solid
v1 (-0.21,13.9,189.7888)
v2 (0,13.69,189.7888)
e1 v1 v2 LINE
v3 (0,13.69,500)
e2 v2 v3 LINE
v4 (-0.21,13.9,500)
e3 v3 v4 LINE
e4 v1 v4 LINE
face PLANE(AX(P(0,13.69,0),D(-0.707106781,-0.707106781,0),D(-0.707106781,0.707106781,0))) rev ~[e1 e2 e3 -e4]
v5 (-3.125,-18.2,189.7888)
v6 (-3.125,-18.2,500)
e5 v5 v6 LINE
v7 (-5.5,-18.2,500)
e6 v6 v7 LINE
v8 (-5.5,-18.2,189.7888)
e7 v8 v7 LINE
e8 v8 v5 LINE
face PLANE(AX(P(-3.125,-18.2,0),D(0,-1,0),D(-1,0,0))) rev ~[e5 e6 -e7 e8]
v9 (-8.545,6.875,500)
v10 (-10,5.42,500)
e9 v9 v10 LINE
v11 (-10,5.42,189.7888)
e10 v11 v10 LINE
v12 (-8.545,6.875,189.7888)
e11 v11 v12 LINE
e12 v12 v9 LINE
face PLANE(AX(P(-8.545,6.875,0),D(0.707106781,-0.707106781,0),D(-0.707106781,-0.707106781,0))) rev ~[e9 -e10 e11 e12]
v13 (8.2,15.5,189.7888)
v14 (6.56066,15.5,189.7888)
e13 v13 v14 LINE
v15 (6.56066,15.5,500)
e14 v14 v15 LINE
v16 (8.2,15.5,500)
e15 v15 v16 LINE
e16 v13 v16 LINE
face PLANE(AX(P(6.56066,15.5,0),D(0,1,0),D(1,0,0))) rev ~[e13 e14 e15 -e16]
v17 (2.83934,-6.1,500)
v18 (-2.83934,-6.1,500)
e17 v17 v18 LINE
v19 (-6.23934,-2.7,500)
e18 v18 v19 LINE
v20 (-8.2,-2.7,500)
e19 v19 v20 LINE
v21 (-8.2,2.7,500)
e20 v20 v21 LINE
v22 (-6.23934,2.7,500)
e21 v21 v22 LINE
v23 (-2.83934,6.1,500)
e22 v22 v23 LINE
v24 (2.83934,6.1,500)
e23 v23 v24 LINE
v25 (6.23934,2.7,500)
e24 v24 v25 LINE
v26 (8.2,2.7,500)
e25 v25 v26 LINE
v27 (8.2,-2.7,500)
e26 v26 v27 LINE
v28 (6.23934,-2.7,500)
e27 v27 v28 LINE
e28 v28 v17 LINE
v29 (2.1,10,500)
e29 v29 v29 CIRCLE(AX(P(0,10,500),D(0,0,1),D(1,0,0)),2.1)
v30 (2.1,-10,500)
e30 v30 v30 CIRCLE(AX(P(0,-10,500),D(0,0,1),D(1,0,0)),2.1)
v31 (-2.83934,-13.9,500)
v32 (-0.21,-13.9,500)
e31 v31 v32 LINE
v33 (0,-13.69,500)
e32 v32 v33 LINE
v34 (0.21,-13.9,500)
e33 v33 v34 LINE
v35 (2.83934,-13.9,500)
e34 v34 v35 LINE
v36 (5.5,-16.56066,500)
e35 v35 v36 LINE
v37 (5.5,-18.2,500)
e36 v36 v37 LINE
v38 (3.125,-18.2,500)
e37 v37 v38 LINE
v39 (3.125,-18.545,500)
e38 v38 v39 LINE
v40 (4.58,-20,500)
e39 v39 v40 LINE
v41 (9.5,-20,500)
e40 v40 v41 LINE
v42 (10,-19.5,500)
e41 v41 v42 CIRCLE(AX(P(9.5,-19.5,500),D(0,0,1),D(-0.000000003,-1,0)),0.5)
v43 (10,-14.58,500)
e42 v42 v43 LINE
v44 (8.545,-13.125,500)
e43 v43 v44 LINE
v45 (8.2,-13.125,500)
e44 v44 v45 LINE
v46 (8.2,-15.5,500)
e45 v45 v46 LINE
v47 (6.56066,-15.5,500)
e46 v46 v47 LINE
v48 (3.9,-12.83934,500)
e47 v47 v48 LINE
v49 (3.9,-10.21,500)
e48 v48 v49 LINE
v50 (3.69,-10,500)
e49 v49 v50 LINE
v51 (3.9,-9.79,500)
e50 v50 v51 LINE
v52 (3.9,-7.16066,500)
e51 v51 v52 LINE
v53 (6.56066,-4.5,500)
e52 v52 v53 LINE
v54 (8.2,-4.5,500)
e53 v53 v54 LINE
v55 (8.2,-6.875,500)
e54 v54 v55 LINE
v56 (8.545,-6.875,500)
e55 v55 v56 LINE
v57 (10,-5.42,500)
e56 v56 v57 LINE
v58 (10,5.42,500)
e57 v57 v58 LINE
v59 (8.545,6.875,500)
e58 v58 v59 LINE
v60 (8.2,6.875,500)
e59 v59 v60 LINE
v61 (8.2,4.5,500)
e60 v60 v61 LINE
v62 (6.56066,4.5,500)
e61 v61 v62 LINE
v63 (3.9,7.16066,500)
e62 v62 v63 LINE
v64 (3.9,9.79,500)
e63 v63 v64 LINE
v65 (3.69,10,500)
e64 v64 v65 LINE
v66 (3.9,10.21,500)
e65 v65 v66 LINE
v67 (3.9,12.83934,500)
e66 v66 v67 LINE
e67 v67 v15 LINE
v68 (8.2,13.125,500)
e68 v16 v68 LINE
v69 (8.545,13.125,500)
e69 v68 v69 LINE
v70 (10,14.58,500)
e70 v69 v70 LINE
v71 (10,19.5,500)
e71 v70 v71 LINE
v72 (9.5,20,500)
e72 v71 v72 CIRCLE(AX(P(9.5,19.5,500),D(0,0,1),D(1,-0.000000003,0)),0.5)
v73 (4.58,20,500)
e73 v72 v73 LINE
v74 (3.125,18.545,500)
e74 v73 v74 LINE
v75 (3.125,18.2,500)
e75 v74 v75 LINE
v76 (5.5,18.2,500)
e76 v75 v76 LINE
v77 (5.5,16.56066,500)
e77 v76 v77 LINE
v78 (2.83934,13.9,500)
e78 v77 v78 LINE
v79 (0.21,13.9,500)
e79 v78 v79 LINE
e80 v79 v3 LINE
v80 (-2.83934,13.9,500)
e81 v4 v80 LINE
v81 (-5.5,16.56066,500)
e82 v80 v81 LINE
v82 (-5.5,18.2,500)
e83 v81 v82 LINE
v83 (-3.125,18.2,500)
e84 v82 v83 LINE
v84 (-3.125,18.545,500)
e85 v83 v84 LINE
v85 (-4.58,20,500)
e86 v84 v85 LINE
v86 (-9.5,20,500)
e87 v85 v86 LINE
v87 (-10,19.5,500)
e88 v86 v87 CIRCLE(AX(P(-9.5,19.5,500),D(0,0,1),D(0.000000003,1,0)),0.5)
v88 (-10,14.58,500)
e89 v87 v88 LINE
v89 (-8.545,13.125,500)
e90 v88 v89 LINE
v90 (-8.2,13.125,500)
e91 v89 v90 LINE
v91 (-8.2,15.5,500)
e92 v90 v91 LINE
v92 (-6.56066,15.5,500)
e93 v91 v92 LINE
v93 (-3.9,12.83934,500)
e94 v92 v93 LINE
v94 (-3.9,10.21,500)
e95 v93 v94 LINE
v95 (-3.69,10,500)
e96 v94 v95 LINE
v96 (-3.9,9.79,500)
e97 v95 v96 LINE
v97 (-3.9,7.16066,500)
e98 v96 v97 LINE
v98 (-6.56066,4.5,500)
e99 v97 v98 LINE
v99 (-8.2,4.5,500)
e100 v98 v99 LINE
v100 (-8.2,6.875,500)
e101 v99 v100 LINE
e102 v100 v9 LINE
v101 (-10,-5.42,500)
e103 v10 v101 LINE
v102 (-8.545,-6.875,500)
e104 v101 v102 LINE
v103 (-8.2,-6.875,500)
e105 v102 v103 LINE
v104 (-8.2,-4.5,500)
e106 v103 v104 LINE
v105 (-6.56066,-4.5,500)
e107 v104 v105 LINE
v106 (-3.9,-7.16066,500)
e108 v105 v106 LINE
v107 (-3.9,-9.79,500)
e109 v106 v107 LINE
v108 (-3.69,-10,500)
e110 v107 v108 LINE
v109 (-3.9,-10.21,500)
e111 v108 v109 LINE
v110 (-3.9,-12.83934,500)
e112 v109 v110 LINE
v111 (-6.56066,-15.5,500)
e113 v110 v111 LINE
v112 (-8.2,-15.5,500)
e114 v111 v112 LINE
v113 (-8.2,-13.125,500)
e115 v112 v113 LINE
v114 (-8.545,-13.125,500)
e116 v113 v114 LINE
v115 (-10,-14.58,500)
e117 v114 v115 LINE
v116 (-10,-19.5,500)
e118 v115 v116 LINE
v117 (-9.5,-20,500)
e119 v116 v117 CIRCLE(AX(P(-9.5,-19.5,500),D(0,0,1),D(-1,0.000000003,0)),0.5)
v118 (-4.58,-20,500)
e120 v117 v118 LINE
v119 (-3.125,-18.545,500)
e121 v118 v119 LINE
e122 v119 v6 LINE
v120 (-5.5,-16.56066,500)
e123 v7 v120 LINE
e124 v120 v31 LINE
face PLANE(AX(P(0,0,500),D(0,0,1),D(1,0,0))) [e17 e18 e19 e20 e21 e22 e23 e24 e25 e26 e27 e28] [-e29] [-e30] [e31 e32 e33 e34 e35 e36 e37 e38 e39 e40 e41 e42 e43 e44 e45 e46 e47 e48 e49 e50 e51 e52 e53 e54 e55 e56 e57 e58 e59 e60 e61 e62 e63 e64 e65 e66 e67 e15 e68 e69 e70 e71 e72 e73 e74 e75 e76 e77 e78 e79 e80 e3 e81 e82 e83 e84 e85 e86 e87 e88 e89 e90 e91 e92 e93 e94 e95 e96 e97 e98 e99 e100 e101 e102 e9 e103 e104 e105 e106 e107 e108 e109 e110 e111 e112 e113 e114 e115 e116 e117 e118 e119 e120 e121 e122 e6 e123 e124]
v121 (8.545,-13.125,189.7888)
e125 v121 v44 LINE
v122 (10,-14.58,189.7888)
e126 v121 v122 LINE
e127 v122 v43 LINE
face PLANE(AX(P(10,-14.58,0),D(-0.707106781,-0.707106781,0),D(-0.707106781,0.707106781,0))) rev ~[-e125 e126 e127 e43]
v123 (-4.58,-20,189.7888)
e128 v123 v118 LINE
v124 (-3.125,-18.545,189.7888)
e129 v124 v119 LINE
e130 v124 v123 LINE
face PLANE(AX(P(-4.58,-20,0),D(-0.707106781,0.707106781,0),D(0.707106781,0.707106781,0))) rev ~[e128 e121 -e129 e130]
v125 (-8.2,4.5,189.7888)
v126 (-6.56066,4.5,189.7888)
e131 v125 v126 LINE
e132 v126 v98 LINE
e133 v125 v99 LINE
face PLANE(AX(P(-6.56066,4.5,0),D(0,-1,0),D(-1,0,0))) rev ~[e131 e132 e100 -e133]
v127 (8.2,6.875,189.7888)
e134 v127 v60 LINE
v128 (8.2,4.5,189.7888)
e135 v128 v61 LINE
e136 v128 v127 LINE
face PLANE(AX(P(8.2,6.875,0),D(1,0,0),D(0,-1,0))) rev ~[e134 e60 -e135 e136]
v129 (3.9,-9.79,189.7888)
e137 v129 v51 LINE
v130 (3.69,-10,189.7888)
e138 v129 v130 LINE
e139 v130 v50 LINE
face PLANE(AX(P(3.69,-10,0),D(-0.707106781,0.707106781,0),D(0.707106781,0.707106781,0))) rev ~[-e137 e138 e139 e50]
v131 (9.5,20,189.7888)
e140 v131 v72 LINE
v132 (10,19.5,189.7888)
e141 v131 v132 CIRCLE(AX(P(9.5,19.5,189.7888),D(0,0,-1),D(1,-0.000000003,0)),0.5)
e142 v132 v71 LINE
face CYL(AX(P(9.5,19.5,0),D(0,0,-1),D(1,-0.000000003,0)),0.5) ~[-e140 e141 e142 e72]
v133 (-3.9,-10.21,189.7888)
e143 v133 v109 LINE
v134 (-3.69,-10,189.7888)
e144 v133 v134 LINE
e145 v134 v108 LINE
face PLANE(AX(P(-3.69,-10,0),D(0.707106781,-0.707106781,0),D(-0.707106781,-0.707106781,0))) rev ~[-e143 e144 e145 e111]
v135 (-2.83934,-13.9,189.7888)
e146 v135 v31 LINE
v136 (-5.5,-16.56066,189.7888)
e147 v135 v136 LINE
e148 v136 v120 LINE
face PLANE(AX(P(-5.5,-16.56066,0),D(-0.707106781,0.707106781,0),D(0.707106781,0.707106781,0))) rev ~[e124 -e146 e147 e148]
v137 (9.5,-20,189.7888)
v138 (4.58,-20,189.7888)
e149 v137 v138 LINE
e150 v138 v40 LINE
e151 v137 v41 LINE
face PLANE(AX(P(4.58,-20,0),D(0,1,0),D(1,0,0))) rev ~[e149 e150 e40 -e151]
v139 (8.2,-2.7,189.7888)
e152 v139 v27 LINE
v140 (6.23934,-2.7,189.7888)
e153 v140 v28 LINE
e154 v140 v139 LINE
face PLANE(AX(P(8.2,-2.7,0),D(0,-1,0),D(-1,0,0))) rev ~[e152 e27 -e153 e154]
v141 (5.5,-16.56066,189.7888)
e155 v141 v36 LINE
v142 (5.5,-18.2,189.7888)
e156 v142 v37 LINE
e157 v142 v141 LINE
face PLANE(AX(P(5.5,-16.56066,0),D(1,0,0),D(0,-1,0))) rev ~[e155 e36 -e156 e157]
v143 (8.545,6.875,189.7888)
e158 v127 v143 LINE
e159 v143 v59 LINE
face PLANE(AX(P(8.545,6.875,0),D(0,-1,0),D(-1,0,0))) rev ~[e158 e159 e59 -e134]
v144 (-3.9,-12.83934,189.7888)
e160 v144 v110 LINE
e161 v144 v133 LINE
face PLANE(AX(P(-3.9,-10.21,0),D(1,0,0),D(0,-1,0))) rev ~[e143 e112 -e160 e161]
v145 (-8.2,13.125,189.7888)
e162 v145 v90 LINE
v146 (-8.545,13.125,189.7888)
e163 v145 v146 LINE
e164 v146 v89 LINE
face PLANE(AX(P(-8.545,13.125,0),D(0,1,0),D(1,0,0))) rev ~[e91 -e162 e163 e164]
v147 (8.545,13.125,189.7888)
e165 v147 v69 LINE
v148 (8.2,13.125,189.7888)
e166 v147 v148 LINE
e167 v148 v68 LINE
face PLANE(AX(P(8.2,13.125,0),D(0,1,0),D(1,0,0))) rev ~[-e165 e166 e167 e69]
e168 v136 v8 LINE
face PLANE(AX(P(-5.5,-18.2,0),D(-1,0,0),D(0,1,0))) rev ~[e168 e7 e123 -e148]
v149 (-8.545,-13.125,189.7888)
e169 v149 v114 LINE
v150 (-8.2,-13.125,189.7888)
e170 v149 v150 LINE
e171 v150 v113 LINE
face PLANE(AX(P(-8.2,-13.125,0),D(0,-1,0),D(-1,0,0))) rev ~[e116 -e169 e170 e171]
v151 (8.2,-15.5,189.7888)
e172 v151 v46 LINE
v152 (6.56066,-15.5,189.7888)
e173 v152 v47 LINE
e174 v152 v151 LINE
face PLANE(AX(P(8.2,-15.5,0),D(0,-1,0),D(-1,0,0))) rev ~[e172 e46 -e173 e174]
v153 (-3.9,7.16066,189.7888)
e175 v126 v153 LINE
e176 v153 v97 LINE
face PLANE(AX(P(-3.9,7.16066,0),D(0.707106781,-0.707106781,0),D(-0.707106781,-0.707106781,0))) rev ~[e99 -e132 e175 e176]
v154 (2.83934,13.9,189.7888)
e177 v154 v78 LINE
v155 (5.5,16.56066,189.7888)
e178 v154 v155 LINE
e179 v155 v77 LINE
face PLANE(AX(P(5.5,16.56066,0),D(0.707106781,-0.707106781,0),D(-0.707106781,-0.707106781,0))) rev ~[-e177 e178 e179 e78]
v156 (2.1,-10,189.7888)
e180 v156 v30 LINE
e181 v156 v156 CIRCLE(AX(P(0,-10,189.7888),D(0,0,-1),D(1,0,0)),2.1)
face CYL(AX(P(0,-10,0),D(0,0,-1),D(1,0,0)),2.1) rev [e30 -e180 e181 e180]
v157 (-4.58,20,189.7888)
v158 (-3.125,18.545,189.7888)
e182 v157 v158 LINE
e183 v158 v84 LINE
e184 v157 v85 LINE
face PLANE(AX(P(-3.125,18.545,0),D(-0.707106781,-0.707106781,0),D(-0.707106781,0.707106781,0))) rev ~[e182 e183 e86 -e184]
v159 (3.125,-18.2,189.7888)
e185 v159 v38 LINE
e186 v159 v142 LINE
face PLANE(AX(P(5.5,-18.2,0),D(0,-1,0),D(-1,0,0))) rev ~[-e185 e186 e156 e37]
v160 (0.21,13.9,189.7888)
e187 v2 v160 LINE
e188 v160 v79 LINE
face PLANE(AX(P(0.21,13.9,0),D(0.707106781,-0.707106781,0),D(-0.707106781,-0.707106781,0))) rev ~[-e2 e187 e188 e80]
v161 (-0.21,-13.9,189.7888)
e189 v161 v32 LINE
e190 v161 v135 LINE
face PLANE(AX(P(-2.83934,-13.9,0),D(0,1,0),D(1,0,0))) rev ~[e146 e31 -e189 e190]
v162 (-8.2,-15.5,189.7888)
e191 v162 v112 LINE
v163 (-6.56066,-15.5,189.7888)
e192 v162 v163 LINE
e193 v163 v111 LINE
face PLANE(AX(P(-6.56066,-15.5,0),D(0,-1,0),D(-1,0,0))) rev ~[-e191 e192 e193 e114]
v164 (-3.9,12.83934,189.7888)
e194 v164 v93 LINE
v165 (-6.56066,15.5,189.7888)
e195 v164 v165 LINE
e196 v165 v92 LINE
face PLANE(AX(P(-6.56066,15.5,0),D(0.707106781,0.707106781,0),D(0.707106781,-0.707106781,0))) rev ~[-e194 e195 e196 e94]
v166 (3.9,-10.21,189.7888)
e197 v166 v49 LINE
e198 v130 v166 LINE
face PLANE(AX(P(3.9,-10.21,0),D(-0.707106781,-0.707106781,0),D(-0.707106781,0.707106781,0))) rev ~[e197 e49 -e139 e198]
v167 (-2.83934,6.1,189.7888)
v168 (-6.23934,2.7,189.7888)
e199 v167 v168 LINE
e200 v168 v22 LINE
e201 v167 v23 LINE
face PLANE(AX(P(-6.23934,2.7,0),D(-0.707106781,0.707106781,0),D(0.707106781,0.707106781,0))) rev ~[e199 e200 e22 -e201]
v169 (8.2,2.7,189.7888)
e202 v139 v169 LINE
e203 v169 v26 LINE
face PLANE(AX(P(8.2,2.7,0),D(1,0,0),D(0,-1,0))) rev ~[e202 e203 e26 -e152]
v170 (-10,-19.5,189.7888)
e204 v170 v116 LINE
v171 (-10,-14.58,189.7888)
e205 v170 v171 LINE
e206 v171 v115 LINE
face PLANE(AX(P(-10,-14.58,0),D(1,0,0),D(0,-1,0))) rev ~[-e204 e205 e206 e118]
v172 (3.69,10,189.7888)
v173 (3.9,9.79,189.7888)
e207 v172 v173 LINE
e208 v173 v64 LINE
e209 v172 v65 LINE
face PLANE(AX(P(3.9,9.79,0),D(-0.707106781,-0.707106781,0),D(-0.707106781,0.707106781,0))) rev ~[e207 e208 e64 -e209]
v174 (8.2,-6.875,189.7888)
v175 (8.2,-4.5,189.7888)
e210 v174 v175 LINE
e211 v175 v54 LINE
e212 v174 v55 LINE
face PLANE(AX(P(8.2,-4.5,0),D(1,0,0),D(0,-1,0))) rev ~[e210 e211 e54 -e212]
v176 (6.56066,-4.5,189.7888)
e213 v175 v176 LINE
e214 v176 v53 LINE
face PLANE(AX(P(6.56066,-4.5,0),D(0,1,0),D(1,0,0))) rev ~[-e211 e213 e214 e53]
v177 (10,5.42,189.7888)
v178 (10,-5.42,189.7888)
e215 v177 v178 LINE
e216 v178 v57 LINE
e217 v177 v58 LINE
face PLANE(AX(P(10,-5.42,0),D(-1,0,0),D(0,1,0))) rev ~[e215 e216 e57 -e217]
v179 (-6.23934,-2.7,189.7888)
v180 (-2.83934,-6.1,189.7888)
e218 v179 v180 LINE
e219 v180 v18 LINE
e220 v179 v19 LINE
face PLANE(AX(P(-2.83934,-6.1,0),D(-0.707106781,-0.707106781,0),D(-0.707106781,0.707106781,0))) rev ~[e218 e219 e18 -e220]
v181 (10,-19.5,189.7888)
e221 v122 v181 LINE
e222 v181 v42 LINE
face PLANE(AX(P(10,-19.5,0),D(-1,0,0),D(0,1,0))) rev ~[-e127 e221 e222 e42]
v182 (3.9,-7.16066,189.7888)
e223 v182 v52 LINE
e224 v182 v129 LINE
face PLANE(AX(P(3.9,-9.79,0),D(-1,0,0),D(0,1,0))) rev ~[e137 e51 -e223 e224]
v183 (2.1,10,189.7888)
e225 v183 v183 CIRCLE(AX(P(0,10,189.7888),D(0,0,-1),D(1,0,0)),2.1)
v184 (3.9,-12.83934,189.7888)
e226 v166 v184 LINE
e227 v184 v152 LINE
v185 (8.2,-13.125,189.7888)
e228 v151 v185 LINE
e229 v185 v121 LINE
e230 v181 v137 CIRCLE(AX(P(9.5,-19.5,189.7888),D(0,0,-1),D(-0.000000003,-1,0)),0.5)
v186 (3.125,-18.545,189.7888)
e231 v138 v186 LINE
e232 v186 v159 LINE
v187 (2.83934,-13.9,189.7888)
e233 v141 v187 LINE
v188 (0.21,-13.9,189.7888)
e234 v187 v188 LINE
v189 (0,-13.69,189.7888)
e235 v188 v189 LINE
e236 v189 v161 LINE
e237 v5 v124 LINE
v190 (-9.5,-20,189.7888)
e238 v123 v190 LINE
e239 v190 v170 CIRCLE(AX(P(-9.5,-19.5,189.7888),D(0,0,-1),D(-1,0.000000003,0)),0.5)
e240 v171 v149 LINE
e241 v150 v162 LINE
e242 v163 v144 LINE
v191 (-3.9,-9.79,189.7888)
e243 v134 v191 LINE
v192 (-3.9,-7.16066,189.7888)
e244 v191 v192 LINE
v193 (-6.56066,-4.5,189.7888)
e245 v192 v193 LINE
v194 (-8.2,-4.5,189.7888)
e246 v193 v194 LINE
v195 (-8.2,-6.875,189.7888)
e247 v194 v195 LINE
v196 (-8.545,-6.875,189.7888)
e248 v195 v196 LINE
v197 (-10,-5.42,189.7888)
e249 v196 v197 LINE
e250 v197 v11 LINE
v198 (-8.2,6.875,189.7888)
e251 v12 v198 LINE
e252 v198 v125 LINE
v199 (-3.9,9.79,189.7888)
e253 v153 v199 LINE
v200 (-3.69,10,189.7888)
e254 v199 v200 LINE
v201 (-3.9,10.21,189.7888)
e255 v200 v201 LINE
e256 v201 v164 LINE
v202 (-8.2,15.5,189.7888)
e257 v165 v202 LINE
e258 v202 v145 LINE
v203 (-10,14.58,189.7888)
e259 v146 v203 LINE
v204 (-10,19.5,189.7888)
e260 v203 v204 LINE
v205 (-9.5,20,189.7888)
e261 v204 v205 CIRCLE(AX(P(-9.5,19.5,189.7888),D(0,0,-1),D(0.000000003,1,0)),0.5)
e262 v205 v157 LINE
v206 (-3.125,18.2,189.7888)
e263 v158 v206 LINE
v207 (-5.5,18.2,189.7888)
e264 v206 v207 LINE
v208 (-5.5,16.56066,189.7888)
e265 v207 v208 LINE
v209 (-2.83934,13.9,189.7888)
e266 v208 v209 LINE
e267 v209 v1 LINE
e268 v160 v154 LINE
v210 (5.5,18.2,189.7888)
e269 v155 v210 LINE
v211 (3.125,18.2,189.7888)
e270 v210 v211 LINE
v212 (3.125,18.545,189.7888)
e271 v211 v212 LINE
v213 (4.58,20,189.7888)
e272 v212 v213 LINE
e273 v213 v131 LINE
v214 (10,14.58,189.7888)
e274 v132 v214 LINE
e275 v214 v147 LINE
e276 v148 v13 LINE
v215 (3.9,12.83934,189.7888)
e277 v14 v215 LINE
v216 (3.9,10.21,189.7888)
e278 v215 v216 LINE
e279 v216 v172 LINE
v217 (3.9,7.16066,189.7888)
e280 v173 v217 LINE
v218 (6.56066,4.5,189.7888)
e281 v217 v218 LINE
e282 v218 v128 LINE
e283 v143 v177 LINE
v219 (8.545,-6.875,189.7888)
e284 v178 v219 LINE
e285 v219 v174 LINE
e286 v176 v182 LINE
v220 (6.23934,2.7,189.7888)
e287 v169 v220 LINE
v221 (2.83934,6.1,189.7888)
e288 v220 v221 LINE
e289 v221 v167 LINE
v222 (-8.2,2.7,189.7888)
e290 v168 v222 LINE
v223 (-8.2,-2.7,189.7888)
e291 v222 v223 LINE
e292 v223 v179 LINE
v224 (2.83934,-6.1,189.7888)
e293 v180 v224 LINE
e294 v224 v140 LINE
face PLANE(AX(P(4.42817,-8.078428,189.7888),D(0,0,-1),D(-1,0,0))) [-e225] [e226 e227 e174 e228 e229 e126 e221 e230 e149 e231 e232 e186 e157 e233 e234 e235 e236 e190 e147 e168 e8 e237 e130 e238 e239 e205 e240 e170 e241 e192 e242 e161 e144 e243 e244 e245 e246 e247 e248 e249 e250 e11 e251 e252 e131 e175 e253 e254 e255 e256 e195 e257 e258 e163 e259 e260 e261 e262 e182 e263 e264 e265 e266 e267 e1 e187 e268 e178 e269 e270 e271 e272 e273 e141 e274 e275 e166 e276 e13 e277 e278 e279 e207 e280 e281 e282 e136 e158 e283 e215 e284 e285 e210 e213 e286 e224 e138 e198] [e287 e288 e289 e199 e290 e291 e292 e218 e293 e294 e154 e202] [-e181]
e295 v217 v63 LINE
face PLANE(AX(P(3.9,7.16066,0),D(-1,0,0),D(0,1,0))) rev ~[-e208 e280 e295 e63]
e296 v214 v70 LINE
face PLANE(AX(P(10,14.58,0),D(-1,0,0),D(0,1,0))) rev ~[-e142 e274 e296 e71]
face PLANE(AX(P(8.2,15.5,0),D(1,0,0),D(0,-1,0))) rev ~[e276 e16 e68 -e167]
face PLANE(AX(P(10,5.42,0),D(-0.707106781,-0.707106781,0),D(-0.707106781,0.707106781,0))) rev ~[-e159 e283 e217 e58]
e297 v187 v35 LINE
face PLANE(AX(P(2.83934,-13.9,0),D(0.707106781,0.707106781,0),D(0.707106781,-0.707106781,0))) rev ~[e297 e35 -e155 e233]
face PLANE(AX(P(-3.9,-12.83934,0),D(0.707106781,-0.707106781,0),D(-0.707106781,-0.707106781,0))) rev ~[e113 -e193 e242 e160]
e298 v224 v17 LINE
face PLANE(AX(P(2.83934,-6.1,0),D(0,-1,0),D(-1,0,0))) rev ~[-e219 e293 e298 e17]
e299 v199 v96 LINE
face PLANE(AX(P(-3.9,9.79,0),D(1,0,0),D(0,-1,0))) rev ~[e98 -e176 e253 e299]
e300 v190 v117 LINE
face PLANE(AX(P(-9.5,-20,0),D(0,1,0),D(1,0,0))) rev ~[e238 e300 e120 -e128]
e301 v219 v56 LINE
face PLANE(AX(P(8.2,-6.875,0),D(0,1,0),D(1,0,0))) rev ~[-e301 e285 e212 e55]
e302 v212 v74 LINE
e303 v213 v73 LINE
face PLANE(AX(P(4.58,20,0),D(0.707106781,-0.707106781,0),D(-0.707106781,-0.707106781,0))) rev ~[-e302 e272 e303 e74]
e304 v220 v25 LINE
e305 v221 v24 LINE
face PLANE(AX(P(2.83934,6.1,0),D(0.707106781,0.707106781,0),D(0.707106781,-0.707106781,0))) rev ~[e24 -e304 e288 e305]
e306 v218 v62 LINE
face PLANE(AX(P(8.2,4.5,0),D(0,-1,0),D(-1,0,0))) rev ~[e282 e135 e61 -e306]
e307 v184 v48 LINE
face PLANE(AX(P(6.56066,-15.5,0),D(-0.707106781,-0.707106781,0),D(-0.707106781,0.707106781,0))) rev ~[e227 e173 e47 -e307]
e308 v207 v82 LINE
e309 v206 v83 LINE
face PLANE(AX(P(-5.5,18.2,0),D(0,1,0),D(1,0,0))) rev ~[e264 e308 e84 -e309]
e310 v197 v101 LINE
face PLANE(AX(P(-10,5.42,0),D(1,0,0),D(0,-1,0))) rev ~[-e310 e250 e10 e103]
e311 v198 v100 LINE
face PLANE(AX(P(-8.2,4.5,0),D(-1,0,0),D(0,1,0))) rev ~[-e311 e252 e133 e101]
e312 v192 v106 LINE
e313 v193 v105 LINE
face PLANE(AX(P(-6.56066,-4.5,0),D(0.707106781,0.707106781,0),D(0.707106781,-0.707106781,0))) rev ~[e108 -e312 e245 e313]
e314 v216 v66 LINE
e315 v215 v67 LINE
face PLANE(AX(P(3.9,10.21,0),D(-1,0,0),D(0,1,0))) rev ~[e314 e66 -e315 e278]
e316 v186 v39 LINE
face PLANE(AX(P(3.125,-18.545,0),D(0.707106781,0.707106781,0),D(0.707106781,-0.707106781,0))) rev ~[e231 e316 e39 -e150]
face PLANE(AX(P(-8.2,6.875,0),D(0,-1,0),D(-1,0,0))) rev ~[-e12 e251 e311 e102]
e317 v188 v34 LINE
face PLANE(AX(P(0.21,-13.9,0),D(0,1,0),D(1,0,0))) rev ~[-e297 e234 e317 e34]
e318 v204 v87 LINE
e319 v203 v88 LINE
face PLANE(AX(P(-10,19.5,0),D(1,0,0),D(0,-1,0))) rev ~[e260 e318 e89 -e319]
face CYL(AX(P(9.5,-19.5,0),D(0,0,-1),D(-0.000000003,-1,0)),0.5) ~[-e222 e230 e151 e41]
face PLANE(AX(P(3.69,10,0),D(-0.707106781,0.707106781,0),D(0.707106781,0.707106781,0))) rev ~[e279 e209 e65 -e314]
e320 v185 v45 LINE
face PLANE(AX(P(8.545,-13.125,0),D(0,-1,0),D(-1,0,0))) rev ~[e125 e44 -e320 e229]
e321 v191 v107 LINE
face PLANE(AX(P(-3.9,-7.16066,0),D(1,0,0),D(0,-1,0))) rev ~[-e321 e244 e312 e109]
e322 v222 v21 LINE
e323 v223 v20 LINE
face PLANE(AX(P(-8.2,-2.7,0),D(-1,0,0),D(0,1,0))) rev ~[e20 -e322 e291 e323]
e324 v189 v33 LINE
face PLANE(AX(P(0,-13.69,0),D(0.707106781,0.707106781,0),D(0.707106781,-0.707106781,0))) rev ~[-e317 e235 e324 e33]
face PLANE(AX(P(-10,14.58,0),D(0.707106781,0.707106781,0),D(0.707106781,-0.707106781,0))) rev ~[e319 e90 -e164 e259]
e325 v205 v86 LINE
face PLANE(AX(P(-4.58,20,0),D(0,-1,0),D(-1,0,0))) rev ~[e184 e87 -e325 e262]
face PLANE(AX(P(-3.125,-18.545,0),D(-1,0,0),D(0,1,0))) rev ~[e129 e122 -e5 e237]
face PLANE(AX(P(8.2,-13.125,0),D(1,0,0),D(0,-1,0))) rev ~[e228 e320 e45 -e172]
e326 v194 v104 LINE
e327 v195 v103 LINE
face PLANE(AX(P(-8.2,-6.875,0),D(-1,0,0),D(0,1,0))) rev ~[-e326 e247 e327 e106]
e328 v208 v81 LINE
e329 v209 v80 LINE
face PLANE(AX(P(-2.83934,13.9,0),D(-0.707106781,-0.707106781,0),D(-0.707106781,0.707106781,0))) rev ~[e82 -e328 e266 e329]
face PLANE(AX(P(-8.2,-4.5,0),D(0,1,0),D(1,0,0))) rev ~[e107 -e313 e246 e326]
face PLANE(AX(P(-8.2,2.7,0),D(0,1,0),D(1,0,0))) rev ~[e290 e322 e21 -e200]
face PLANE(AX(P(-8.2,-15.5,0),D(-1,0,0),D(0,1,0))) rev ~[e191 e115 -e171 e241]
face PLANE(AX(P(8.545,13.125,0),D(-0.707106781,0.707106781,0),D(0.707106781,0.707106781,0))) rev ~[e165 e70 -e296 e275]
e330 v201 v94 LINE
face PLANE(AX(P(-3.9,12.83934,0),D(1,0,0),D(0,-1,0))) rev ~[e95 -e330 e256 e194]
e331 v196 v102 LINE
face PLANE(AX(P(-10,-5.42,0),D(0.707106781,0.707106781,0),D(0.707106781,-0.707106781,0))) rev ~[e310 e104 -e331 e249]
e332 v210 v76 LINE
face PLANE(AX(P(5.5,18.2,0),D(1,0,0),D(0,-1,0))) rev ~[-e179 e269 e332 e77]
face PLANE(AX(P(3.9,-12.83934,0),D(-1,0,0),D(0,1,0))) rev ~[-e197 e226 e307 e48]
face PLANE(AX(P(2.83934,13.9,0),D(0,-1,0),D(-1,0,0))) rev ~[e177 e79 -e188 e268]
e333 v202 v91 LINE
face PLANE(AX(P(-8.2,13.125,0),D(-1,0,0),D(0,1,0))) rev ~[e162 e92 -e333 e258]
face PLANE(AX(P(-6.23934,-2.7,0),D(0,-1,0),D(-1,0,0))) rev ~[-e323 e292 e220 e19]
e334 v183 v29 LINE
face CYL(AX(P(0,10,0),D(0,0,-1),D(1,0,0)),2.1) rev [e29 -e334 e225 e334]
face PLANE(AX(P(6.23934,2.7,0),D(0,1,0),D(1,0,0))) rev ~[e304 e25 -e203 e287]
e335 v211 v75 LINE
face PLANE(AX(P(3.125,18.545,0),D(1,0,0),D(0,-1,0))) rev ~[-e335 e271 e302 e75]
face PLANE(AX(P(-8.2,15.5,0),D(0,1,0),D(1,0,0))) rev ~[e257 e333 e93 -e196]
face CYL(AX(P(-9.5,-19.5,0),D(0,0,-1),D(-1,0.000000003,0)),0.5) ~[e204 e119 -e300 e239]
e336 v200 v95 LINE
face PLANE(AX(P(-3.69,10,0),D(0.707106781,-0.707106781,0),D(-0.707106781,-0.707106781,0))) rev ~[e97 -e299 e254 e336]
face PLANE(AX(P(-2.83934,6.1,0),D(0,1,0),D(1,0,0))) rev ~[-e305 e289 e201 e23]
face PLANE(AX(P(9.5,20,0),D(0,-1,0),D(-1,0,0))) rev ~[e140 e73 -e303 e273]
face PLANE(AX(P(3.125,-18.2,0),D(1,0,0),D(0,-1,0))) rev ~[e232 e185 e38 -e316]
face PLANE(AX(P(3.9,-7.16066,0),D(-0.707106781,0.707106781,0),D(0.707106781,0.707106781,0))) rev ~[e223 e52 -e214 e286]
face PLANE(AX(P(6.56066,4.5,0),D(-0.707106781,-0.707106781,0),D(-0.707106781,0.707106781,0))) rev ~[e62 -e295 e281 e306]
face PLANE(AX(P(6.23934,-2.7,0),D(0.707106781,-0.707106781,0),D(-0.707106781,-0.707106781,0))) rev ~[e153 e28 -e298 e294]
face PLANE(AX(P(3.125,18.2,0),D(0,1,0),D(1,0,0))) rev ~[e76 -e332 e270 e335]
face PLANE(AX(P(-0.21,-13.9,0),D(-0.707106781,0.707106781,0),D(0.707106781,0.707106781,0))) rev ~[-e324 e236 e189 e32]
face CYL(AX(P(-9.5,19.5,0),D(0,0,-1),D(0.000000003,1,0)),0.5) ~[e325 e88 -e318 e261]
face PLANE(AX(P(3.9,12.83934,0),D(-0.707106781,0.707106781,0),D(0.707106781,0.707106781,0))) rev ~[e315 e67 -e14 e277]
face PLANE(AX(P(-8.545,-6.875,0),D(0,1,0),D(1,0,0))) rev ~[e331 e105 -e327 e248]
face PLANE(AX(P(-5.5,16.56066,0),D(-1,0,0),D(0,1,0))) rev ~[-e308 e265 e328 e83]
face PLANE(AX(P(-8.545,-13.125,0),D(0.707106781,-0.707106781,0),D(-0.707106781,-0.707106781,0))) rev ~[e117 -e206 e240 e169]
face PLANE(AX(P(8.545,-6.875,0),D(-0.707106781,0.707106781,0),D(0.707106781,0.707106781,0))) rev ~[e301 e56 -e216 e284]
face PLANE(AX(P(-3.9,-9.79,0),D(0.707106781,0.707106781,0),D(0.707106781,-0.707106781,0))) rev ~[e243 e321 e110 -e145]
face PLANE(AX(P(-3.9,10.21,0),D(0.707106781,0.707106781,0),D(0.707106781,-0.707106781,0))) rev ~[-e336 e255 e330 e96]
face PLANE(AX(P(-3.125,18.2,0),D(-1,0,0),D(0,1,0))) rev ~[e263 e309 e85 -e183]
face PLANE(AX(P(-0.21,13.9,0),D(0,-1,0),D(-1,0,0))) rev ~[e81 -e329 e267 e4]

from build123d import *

# Parameters (mm, degrees)
SKETCH1_R           = 2.1
BOSS_EXTRUDE1_DEPTH = 500
SKETCH2_W           = 72.199541976
SKETCH2_H           = 58.054703084
CUT_EXTRUDE2_DEPTH  = 189.7888


with BuildPart() as part:
    # Sketch1 → Boss-Extrude1 (new body)
    with BuildSketch(Plane.XY):
        with BuildLine():
            Line((4.58, -20), (9.5, -20))
            ThreePointArc((9.5, -20), (9.853553391, -19.853553391), (10, -19.5))
            Line((10, -19.5), (10, -14.58))
            Line((10, -14.58), (8.545, -13.125))
            Line((8.545, -13.125), (8.2, -13.125))
            Line((8.2, -13.125), (8.2, -15.5))
            Line((8.2, -15.5), (6.560660172, -15.5))
            Line((6.560660172, -15.5), (3.9, -12.839339828))
            Line((3.9, -12.839339828), (3.9, -10.21))
            Line((3.9, -10.21), (3.69, -10))
            Line((3.69, -10), (3.9, -9.79))
            Line((3.9, -9.79), (3.9, -7.160660172))
            Line((3.9, -7.160660172), (6.560660172, -4.5))
            Line((6.560660172, -4.5), (8.2, -4.5))
            Line((8.2, -4.5), (8.2, -6.875))
            Line((8.2, -6.875), (8.545, -6.875))
            Line((8.545, -6.875), (10, -5.42))
            Line((10, -5.42), (10, 5.42))
            Line((10, 5.42), (8.545, 6.875))
            Line((8.545, 6.875), (8.2, 6.875))
            Line((8.2, 6.875), (8.2, 4.5))
            Line((8.2, 4.5), (6.560660172, 4.5))
            Line((6.560660172, 4.5), (3.9, 7.160660172))
            Line((3.9, 7.160660172), (3.9, 9.79))
            Line((3.9, 9.79), (3.69, 10))
            Line((3.69, 10), (3.9, 10.21))
            Line((3.9, 10.21), (3.9, 12.839339828))
            Line((3.9, 12.839339828), (6.560660172, 15.5))
            Line((6.560660172, 15.5), (8.2, 15.5))
            Line((8.2, 15.5), (8.2, 13.125))
            Line((8.2, 13.125), (8.545, 13.125))
            Line((8.545, 13.125), (10, 14.58))
            Line((10, 14.58), (10, 19.5))
            ThreePointArc((10, 19.5), (9.853553391, 19.853553391), (9.5, 20))
            Line((9.5, 20), (4.58, 20))
            Line((4.58, 20), (3.125, 18.545))
            Line((3.125, 18.545), (3.125, 18.2))
            Line((3.125, 18.2), (5.5, 18.2))
            Line((5.5, 18.2), (5.5, 16.560660172))
            Line((5.5, 16.560660172), (2.839339828, 13.9))
            Line((2.839339828, 13.9), (0.21, 13.9))
            Line((0.21, 13.9), (0, 13.69))
            Line((0, 13.69), (-0.21, 13.9))
            Line((-0.21, 13.9), (-2.839339828, 13.9))
            Line((-2.839339828, 13.9), (-5.5, 16.560660172))
            Line((-5.5, 16.560660172), (-5.5, 18.2))
            Line((-5.5, 18.2), (-3.125, 18.2))
            Line((-3.125, 18.2), (-3.125, 18.545))
            Line((-3.125, 18.545), (-4.58, 20))
            Line((-4.58, 20), (-9.5, 20))
            ThreePointArc((-9.5, 20), (-9.853553391, 19.853553391), (-10, 19.5))
            Line((-10, 19.5), (-10, 14.58))
            Line((-10, 14.58), (-8.545, 13.125))
            Line((-8.545, 13.125), (-8.2, 13.125))
            Line((-8.2, 13.125), (-8.2, 15.5))
            Line((-8.2, 15.5), (-6.560660172, 15.5))
            Line((-6.560660172, 15.5), (-3.9, 12.839339828))
            Line((-3.9, 12.839339828), (-3.9, 10.21))
            Line((-3.9, 10.21), (-3.69, 10))
            Line((-3.69, 10), (-3.9, 9.79))
            Line((-3.9, 9.79), (-3.9, 7.160660172))
            Line((-3.9, 7.160660172), (-6.560660172, 4.5))
            Line((-6.560660172, 4.5), (-8.2, 4.5))
            Line((-8.2, 4.5), (-8.2, 6.875))
            Line((-8.2, 6.875), (-8.545, 6.875))
            Line((-8.545, 6.875), (-10, 5.42))
            Line((-10, 5.42), (-10, -5.42))
            Line((-10, -5.42), (-8.545, -6.875))
            Line((-8.545, -6.875), (-8.2, -6.875))
            Line((-8.2, -6.875), (-8.2, -4.5))
            Line((-8.2, -4.5), (-6.560660172, -4.5))
            Line((-6.560660172, -4.5), (-3.9, -7.160660172))
            Line((-3.9, -7.160660172), (-3.9, -9.79))
            Line((-3.9, -9.79), (-3.69, -10))
            Line((-3.69, -10), (-3.9, -10.21))
            Line((-3.9, -10.21), (-3.9, -12.839339828))
            Line((-3.9, -12.839339828), (-6.560660172, -15.5))
            Line((-6.560660172, -15.5), (-8.2, -15.5))
            Line((-8.2, -15.5), (-8.2, -13.125))
            Line((-8.2, -13.125), (-8.545, -13.125))
            Line((-8.545, -13.125), (-10, -14.58))
            Line((-10, -14.58), (-10, -19.5))
            ThreePointArc((-10, -19.5), (-9.853553391, -19.853553391), (-9.5, -20))
            Line((-9.5, -20), (-4.58, -20))
            Line((-4.58, -20), (-3.125, -18.545))
            Line((-3.125, -18.545), (-3.125, -18.2))
            Line((-3.125, -18.2), (-5.5, -18.2))
            Line((-5.5, -18.2), (-5.5, -16.560660172))
            Line((-5.5, -16.560660172), (-2.839339828, -13.9))
            Line((-2.839339828, -13.9), (-0.21, -13.9))
            Line((-0.21, -13.9), (0, -13.69))
            Line((0, -13.69), (0.21, -13.9))
            Line((0.21, -13.9), (2.839339828, -13.9))
            Line((2.839339828, -13.9), (5.5, -16.560660172))
            Line((5.5, -16.560660172), (5.5, -18.2))
            Line((5.5, -18.2), (3.125, -18.2))
            Line((3.125, -18.2), (3.125, -18.545))
            Line((3.125, -18.545), (4.58, -20))
        make_face()
        with Locations((0, -10)):
            Circle(SKETCH1_R, mode=Mode.SUBTRACT)
        Polygon((-6.239339828, -2.7), (-8.2, -2.7), (-8.2, 2.7), (-6.239339828, 2.7), (-2.839339828, 6.1), (2.839339828, 6.1), (6.239339828, 2.7), (8.2, 2.7), (8.2, -2.7), (6.239339828, -2.7), (2.839339828, -6.1), (-2.839339828, -6.1), align=None, mode=Mode.SUBTRACT)
        with Locations((0, 10)):
            Circle(SKETCH1_R, mode=Mode.SUBTRACT)
    extrude(amount=BOSS_EXTRUDE1_DEPTH)

    # Sketch2 → Cut-Extrude2 (cut)
    with BuildSketch(Plane(origin=(0, 0, 0), x_dir=(-1, 0, 0), z_dir=(0, 0, -1))):
        with Locations((-4.42817029, -8.078427536)):
            Rectangle(SKETCH2_W, SKETCH2_H)
    extrude(amount=-CUT_EXTRUDE2_DEPTH, mode=Mode.SUBTRACT)


solid = part.part
